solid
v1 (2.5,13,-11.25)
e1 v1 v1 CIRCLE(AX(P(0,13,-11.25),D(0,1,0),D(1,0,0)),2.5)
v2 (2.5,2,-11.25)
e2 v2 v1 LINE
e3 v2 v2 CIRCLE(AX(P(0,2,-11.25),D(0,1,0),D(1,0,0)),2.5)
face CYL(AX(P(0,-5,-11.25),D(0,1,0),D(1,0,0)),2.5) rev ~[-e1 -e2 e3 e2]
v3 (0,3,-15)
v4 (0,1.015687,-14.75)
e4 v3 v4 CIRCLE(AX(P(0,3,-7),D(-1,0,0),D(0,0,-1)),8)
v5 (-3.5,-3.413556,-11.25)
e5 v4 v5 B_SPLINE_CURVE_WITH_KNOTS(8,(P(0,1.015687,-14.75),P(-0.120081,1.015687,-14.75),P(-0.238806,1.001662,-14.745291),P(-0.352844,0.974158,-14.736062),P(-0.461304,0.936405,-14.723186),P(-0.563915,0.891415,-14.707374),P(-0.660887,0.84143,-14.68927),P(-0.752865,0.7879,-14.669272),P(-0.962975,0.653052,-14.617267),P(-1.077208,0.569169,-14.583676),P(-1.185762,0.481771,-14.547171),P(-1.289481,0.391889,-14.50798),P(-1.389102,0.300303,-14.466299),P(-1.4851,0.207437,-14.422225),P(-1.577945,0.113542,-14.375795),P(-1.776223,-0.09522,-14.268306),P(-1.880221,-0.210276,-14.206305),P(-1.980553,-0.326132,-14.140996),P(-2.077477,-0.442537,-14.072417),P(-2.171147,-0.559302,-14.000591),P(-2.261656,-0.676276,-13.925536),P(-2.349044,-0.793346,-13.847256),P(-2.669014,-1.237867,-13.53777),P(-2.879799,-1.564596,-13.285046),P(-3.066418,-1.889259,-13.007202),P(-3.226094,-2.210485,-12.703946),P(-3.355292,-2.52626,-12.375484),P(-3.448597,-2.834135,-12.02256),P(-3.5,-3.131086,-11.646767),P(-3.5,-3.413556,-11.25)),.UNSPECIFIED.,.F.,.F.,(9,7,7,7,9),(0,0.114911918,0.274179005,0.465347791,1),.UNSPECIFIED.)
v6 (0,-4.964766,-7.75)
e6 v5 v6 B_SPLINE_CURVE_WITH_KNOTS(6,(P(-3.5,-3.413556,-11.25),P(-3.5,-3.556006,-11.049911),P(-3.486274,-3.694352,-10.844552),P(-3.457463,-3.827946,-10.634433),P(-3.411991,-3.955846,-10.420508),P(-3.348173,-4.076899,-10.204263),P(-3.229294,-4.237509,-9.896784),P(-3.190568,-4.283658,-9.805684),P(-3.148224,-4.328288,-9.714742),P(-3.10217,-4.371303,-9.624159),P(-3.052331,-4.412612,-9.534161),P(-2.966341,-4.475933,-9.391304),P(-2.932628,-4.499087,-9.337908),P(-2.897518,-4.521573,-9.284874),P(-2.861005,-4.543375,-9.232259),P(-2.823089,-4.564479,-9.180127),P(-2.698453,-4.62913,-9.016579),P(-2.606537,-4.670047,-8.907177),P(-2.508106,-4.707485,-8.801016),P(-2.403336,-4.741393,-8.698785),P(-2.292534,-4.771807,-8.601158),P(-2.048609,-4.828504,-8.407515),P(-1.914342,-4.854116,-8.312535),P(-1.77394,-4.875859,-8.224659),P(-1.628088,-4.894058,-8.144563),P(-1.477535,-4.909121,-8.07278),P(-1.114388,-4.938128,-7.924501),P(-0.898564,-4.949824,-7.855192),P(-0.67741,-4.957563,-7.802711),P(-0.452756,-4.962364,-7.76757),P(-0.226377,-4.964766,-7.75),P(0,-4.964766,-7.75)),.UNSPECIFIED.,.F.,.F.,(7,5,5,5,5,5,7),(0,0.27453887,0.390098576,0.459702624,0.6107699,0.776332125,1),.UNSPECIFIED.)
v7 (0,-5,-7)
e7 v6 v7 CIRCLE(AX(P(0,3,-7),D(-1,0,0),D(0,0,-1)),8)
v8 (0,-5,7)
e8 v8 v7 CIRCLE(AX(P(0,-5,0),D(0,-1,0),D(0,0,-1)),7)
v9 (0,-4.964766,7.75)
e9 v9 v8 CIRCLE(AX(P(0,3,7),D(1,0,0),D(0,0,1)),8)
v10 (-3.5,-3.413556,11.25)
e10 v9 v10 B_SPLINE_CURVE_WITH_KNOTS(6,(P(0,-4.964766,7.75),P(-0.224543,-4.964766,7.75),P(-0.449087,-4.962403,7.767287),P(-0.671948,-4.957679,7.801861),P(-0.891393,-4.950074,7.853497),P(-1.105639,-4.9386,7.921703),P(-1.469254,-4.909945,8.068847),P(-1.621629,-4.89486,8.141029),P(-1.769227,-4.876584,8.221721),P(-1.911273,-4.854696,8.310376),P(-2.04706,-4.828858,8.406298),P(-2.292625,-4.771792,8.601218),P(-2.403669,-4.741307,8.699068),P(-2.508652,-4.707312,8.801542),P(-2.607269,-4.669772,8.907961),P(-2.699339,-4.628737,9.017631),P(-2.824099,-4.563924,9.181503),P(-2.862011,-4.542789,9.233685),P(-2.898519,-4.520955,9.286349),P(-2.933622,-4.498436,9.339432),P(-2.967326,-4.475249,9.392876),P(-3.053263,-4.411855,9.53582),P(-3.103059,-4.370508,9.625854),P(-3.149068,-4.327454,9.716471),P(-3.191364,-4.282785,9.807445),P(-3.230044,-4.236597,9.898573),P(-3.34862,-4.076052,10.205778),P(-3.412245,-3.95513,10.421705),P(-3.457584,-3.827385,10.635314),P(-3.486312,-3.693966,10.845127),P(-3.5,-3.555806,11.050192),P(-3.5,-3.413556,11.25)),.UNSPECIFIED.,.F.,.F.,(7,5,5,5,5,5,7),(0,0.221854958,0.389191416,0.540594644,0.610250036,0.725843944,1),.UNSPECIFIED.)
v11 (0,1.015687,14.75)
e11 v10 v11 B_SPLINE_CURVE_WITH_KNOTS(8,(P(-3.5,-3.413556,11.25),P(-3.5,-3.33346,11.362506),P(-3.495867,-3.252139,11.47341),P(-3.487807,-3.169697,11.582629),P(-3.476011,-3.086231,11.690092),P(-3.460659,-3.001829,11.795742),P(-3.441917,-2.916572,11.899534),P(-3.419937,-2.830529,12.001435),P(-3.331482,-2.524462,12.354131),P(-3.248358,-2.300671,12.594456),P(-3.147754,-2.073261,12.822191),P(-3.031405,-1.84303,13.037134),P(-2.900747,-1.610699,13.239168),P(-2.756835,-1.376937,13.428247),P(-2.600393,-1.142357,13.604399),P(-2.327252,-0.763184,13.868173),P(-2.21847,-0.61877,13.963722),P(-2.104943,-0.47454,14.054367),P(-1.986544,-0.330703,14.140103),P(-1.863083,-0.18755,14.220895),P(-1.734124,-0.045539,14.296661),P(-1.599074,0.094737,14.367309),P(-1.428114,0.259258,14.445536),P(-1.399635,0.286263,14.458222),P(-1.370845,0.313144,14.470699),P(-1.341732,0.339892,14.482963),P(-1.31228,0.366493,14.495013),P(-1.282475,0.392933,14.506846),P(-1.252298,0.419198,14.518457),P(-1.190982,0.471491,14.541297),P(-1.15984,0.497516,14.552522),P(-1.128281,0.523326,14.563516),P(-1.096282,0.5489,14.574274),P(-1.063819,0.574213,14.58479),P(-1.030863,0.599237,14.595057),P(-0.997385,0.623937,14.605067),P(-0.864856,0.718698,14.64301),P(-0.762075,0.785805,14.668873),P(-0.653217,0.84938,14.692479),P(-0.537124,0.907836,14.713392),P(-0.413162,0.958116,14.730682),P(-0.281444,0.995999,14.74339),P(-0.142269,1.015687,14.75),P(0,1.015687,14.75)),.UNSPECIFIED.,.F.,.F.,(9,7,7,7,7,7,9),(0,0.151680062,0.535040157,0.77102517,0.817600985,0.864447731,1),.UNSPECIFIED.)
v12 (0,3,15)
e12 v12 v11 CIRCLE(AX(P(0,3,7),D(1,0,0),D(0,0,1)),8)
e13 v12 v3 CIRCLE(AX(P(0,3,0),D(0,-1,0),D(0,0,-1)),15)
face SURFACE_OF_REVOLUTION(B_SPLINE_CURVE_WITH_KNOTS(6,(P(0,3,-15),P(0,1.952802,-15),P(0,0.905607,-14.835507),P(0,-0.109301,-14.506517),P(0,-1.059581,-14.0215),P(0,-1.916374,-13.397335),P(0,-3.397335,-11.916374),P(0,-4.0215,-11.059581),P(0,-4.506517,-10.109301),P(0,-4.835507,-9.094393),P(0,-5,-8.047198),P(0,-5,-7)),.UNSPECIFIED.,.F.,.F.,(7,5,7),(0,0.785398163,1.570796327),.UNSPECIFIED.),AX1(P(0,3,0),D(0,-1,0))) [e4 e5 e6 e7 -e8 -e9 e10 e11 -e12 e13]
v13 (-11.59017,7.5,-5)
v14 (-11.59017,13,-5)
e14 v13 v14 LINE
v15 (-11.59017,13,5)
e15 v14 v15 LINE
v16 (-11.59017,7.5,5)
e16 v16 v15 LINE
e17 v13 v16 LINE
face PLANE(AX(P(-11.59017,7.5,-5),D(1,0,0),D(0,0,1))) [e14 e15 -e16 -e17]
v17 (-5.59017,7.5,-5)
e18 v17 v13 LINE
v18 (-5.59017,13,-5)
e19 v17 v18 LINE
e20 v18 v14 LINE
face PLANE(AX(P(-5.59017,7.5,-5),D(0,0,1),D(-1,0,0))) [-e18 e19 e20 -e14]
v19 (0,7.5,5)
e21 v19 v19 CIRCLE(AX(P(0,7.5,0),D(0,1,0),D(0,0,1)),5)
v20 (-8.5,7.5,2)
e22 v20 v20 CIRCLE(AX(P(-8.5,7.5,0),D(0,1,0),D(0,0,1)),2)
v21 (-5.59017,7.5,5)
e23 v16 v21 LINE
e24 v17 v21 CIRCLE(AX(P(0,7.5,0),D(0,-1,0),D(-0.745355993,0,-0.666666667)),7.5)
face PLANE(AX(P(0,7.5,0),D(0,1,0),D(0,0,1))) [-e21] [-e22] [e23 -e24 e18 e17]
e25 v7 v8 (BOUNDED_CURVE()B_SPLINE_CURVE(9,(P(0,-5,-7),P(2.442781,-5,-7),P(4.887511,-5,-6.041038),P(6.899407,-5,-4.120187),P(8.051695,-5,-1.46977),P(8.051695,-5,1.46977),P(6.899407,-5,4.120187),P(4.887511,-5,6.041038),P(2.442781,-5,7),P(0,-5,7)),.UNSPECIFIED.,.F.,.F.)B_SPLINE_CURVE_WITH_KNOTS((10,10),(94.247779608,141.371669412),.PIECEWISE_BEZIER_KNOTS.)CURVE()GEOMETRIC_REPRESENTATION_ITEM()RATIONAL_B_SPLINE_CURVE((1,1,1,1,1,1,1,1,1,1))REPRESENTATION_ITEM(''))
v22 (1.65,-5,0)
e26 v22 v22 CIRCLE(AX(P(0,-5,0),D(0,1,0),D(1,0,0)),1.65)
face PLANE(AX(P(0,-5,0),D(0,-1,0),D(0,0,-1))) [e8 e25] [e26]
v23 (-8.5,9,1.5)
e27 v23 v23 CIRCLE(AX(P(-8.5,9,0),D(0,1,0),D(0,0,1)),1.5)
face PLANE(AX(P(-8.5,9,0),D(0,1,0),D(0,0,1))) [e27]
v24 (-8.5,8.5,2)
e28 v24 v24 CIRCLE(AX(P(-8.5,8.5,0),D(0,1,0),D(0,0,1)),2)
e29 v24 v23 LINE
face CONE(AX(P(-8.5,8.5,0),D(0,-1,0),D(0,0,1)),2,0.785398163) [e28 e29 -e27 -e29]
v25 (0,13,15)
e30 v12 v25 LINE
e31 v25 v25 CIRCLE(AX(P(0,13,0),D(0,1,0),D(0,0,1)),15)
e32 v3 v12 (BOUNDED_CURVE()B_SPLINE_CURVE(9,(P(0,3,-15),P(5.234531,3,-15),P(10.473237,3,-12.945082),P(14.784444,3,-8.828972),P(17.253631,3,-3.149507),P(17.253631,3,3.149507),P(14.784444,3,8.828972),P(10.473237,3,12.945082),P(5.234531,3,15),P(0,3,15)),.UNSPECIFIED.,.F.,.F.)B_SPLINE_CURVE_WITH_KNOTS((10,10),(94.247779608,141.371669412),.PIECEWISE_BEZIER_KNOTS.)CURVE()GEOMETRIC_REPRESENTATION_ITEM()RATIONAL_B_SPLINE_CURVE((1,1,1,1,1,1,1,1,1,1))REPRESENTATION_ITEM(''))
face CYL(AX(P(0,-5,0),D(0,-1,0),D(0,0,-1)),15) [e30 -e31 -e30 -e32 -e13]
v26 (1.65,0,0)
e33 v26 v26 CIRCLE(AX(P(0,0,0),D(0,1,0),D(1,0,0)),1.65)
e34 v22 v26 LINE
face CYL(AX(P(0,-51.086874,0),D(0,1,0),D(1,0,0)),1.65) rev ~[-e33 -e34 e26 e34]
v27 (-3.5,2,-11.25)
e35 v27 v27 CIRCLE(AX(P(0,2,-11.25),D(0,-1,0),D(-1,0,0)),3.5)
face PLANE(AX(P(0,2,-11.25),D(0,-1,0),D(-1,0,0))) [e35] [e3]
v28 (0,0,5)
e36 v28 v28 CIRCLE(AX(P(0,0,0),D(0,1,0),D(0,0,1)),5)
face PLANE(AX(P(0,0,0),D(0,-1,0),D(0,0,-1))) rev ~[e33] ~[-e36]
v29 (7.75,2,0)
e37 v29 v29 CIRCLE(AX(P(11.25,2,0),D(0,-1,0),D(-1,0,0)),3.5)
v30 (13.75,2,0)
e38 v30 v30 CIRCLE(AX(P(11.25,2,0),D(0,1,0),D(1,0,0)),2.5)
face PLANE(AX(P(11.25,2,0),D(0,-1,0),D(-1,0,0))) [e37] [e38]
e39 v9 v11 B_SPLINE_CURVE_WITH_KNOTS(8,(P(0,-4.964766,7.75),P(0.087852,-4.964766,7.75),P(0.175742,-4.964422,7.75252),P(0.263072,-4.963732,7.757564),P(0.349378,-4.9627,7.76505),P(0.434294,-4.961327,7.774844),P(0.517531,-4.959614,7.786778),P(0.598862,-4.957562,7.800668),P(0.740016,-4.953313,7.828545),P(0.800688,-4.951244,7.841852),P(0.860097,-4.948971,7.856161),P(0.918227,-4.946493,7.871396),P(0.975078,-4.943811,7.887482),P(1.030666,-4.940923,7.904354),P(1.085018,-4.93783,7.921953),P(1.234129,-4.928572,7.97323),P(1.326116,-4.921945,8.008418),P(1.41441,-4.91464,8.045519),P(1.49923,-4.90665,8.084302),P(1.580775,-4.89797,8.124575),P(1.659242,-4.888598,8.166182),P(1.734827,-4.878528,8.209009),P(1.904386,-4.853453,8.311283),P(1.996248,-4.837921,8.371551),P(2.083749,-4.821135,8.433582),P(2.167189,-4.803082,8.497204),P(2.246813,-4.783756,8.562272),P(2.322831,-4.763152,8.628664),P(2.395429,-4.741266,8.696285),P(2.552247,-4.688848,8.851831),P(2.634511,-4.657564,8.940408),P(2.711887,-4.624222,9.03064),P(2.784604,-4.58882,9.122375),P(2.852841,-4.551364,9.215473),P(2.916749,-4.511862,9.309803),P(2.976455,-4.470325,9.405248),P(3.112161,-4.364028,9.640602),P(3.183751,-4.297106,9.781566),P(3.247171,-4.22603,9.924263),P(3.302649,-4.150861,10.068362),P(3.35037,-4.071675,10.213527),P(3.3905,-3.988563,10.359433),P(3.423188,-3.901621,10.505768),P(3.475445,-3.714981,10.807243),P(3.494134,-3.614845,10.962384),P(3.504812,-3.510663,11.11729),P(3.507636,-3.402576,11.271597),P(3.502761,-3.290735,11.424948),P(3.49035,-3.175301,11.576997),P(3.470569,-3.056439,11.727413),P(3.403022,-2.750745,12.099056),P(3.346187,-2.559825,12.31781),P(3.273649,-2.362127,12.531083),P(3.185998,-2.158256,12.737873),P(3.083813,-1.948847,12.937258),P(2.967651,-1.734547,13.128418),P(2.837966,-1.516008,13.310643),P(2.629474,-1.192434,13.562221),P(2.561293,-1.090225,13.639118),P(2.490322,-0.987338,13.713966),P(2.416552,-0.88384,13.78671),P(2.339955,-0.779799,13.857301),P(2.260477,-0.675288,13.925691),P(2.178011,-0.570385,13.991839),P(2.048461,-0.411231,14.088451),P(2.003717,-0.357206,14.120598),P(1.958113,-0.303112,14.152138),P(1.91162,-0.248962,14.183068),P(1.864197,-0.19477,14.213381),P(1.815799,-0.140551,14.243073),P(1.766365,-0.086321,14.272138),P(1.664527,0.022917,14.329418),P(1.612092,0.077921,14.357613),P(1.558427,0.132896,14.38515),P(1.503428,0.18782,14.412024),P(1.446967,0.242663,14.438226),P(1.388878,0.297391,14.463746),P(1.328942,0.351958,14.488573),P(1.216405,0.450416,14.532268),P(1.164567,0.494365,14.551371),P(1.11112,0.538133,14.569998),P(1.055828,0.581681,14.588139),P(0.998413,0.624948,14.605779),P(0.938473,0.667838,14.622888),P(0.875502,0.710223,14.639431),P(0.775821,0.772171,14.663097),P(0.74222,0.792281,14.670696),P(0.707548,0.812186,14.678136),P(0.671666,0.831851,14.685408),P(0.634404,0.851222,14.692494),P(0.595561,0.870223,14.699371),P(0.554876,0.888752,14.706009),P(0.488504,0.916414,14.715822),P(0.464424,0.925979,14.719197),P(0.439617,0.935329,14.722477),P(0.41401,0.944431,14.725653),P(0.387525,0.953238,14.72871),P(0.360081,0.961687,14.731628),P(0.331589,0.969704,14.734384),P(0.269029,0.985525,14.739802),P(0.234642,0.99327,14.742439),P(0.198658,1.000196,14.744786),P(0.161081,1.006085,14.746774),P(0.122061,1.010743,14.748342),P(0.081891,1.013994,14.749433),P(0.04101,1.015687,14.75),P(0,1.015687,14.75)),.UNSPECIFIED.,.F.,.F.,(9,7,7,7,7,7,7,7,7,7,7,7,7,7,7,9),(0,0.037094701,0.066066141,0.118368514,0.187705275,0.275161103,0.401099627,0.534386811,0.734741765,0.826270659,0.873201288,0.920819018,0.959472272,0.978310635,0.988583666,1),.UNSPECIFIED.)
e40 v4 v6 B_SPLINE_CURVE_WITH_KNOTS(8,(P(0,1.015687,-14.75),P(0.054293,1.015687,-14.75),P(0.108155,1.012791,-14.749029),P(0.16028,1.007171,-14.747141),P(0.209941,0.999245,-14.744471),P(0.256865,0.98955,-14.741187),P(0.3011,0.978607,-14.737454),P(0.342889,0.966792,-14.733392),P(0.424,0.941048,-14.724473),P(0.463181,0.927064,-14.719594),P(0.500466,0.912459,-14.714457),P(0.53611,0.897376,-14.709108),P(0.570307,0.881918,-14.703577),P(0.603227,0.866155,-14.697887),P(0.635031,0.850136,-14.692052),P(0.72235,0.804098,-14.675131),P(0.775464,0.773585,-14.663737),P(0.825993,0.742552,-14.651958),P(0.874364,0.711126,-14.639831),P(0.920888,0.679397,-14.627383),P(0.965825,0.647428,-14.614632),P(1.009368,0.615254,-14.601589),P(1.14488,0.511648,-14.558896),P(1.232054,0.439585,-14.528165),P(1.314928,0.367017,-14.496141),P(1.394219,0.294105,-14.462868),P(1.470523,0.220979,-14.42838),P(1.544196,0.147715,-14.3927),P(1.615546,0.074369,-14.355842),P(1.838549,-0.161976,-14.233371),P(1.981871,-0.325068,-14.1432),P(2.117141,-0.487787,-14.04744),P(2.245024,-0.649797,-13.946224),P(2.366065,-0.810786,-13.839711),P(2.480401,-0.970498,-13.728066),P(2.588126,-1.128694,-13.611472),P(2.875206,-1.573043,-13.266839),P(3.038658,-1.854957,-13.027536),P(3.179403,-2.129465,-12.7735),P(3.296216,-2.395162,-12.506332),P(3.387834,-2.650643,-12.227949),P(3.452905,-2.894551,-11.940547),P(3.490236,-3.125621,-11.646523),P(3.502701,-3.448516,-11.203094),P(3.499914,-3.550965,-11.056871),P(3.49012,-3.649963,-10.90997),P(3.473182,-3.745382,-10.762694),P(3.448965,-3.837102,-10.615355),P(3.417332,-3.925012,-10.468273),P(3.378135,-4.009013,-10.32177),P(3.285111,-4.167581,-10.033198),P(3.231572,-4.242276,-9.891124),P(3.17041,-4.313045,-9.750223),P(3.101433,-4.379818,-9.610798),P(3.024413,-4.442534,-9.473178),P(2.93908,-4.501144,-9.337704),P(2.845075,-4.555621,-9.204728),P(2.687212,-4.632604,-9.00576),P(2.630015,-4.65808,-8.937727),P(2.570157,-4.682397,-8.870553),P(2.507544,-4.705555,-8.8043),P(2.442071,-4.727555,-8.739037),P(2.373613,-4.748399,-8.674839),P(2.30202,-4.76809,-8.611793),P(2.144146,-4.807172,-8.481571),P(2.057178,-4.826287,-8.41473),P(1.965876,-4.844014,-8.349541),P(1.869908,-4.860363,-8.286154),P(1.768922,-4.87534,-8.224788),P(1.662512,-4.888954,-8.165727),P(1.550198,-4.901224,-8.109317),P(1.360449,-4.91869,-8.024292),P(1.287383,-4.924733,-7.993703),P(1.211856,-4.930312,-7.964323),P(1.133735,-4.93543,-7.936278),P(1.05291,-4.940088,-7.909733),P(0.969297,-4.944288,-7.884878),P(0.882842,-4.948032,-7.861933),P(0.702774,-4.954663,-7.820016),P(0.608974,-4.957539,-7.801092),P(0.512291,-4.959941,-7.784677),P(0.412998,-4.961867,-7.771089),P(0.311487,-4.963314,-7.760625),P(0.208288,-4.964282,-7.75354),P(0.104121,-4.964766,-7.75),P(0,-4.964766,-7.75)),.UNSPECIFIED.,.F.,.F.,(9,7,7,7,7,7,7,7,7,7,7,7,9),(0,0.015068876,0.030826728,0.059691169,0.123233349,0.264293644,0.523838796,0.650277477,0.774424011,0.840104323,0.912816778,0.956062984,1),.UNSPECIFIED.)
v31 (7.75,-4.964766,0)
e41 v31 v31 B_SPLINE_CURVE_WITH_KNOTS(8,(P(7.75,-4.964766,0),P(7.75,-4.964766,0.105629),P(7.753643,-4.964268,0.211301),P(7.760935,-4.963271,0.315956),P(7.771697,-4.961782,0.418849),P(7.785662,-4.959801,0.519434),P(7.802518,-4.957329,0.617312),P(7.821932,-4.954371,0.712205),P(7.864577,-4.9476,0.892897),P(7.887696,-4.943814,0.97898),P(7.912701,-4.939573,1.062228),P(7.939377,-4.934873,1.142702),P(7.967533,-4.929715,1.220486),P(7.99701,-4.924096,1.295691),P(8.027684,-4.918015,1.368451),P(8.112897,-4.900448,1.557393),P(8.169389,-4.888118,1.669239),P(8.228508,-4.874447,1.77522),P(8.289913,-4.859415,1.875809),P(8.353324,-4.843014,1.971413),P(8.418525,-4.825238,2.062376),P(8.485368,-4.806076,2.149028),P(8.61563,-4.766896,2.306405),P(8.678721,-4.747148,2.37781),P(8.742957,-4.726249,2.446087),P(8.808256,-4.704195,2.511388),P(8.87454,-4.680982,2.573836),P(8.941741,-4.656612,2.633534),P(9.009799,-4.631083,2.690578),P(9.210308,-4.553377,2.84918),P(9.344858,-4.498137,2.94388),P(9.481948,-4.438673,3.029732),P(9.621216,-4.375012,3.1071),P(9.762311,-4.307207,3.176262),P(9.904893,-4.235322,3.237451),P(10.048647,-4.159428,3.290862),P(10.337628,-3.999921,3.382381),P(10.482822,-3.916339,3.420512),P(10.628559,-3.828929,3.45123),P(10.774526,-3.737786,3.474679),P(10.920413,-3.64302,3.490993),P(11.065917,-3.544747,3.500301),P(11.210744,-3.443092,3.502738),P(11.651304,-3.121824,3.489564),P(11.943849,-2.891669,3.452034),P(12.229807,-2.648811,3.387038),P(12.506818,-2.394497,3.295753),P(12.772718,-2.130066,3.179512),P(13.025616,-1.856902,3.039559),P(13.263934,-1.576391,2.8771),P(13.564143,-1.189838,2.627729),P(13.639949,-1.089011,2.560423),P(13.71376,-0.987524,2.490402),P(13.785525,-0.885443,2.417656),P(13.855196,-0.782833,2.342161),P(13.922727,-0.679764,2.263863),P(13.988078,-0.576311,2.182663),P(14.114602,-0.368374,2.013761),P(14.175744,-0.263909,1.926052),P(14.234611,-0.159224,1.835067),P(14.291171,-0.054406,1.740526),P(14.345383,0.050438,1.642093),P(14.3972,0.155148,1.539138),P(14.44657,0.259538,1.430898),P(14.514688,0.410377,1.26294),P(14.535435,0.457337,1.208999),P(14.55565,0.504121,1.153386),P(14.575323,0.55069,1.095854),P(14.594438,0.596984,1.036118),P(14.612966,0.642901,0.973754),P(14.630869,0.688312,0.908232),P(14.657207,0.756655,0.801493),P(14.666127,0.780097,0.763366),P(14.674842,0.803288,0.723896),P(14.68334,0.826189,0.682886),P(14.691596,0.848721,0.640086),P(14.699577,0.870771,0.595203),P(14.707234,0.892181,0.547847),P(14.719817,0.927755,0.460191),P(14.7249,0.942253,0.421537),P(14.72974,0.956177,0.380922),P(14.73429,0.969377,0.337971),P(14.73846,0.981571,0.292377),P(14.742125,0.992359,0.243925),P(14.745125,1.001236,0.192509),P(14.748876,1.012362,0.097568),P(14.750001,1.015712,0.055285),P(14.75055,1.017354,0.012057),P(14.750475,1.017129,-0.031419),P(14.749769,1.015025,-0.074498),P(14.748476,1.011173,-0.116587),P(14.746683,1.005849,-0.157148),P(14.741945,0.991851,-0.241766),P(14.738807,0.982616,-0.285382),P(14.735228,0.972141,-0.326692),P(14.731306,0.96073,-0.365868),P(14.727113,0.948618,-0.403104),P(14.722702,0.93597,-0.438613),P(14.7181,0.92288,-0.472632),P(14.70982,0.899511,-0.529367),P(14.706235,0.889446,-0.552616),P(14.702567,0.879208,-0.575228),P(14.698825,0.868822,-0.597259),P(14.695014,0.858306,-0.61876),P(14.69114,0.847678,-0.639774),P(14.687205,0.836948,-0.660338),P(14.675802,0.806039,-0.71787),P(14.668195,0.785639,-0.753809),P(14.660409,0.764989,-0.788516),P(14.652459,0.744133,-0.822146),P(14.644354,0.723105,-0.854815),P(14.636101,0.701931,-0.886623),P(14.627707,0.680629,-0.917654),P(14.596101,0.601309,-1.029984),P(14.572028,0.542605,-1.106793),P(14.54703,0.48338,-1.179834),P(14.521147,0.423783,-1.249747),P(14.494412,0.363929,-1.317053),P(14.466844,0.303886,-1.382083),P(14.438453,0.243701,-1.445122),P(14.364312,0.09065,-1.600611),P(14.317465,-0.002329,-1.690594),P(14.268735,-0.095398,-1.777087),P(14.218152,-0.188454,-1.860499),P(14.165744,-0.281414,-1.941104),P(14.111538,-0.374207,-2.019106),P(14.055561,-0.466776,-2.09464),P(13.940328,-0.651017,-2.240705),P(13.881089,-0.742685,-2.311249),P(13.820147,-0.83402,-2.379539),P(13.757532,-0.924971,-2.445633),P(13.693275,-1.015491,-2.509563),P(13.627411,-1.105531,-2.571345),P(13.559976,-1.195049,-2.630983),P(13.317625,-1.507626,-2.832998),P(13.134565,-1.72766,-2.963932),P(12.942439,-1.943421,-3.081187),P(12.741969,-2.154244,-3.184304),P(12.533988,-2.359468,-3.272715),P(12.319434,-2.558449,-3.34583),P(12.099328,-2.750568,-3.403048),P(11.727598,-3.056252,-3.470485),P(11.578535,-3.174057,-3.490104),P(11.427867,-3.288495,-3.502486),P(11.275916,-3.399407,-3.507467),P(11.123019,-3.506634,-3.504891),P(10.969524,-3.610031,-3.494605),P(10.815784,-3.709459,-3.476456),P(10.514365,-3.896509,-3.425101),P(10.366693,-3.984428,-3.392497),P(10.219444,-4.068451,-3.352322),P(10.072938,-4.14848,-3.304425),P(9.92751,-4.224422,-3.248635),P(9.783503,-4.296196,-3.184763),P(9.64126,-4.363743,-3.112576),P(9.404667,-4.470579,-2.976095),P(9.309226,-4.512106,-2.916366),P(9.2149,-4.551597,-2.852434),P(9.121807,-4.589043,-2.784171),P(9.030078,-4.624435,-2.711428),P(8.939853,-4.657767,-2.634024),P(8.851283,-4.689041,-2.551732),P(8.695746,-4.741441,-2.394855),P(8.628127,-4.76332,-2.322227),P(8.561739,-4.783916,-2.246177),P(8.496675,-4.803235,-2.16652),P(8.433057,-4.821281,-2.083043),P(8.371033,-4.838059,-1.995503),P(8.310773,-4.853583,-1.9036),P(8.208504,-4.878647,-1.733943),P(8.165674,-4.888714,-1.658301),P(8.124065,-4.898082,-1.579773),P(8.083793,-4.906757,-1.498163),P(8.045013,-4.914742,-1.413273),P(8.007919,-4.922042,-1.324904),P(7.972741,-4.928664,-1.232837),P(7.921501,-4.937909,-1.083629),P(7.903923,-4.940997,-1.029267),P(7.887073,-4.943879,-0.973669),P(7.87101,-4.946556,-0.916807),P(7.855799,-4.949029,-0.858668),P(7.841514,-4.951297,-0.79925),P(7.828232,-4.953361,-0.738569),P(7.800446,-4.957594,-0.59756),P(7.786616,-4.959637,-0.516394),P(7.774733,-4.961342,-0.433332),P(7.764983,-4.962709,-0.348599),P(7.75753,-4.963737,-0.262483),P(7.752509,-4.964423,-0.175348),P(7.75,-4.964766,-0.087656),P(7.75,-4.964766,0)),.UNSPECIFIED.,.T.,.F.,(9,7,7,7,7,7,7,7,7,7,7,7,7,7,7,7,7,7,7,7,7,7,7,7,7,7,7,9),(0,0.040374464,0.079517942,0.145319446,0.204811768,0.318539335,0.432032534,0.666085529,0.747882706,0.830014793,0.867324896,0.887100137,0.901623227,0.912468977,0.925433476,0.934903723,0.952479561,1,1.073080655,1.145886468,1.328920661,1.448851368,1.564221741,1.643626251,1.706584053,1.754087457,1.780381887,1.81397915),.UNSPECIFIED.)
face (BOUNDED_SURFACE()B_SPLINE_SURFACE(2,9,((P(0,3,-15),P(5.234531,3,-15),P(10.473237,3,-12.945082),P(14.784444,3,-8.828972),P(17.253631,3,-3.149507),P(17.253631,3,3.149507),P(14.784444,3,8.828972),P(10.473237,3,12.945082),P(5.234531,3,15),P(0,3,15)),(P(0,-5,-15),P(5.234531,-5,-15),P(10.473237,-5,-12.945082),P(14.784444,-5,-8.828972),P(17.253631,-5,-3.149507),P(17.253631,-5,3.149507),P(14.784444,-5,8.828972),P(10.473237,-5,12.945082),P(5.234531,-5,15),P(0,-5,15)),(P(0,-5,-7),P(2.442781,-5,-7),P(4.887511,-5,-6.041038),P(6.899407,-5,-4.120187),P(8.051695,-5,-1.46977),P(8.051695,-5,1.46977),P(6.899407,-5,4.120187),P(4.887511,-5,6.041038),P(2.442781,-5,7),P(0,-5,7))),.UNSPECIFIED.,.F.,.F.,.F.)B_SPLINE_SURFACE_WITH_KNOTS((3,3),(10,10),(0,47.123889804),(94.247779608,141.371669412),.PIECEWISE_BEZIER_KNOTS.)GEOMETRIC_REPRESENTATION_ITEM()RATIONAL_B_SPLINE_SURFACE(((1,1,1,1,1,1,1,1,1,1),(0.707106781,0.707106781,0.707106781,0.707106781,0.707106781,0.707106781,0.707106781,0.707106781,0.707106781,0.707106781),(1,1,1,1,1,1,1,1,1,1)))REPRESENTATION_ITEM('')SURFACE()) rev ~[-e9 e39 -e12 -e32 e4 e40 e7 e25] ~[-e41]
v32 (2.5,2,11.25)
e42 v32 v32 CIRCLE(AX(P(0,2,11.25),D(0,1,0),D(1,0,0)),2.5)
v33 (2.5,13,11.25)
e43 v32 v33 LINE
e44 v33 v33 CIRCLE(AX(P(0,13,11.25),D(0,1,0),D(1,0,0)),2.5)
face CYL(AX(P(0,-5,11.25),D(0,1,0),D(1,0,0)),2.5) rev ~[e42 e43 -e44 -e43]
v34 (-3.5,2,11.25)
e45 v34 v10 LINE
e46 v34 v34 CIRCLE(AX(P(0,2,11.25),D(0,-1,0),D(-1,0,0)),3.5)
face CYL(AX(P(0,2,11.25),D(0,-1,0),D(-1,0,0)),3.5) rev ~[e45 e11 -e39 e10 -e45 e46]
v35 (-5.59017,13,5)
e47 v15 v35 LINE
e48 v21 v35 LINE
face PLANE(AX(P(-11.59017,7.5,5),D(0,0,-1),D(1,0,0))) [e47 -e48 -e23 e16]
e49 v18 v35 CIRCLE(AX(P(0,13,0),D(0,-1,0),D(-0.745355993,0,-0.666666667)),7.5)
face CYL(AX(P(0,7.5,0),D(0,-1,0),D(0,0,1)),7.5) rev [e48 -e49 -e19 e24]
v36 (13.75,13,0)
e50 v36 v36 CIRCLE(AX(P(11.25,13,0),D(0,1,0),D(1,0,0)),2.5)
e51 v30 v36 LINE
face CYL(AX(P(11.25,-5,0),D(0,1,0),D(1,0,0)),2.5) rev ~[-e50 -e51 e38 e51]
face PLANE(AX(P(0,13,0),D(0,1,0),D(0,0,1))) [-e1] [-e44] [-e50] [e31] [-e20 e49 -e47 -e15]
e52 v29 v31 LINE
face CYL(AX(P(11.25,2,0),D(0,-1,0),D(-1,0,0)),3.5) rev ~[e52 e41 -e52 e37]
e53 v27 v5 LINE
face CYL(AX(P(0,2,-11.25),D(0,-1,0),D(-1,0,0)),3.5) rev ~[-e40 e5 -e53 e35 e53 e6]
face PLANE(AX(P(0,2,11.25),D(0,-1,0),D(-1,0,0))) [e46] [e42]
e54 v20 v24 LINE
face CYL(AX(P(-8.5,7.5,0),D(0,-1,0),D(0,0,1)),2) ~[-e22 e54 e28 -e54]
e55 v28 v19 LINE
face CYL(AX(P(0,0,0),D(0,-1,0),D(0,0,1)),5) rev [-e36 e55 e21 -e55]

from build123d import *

# Parameters (mm, degrees)
SKETCH1_R             = 15
SKETCH1_R_2           = 5
BOSS_EXTRUDE1_DEPTH   = 7.5
SKETCH2_R             = 15
SKETCH2_R_2           = 7.5
BOSS_EXTRUDE2_DEPTH   = 5.5
BOSS_EXTRUDE3_START   = 5
SKETCH3_R             = 15
BOSS_EXTRUDE3_DEPTH   = 5
M4X0_7_TAPPED_HOLE1_D = 3.3
FILLET1_R             = 8
HOLE1_D               = 5
HOLE1_DEPTH           = 18
HOLE1_CBORE_D         = 7
HOLE1_CBORE_DEPTH     = 7
HOLE1_TIP             = 1.502151548
CUT_EXTRUDE1_START    = -5.5
CUT_EXTRUDE1_DEPTH    = 5.5
SKETCH10_R            = 2
BOSS_EXTRUDE4_DEPTH   = 1.5
CHAMFER1_SIZE         = 0.5


with BuildPart() as part:
    # Sketch1 → Boss-Extrude1 (new body)
    with BuildSketch(Plane(origin=(0, 0, 0), x_dir=(1, 0, 0), z_dir=(0, 1, 0))):
        with Locations(Location((0, 0, 0), (0, 0, 270))):
            Circle(SKETCH1_R)
        with Locations(Location((0, 0, 0), (0, 0, 270))):
            Circle(SKETCH1_R_2, mode=Mode.SUBTRACT)
    extrude(amount=BOSS_EXTRUDE1_DEPTH)

    # Sketch2 → Boss-Extrude2 (add)
    with BuildSketch(Plane(origin=(0, 7.5, 0), x_dir=(1, 0, 0), z_dir=(0, 1, 0))):
        with Locations(Location((0, 0, 0), (0, 0, 270))):
            Circle(SKETCH2_R)
        with Locations(Location((0, 0, 0), (0, 0, 270))):
            Circle(SKETCH2_R_2, mode=Mode.SUBTRACT)
    extrude(amount=BOSS_EXTRUDE2_DEPTH)

    # Sketch3 → Boss-Extrude3 (add)
    with BuildSketch(Plane.XZ.offset(BOSS_EXTRUDE3_START)):
        with Locations(Location((0, 0, 0), (0, 0, 270))):
            Circle(SKETCH3_R)
    extrude(amount=-BOSS_EXTRUDE3_DEPTH)

    # M4x0.7 Tapped Hole1 (through all)
    with Locations(Plane(origin=(0, -5, 0), x_dir=(-1, 0, 0), z_dir=(0, -1, 0))):
        with Locations((0, 0)):
            Hole(M4X0_7_TAPPED_HOLE1_D / 2)

    # Fillet1
    fillet1_edges = [part.edges().sort_by_distance(p)[0] for p in [
        (0, -5, 15),
    ]]
    fillet(fillet1_edges, radius=FILLET1_R)

    # Hole1
    with Locations(Plane(origin=(0, -5, 0), x_dir=(-1, 0, 0), z_dir=(0, -1, 0))):
        with Locations((0, 11.25), (-11.25, 0), (0, -11.25)):
            CounterBoreHole(HOLE1_D / 2, HOLE1_CBORE_D / 2, HOLE1_CBORE_DEPTH, depth=HOLE1_DEPTH)
            with Locations((0, 0, -(HOLE1_DEPTH + HOLE1_TIP / 2))):  # 118° drill point
                Cone(0, HOLE1_D / 2, HOLE1_TIP, mode=Mode.SUBTRACT)

    # Sketch9 → Cut-Extrude1 (cut)
    with BuildSketch(Plane(origin=(0, 13, 0), x_dir=(1, 0, 0), z_dir=(0, 1, 0)).offset(CUT_EXTRUDE1_START)):
        with BuildLine():
            Line((-5.590169944, 5), (-11.590169944, 5))
            Line((-11.590169944, 5), (-11.590169944, -5))
            Line((-11.590169944, -5), (-5.590169944, -5))
            ThreePointArc((-5.590169944, -5), (-7.5, 0), (-5.590169944, 5))
        make_face()
    extrude(amount=CUT_EXTRUDE1_DEPTH, mode=Mode.SUBTRACT)

    # Sketch10 → Boss-Extrude4 (add)
    with BuildSketch(Plane(origin=(0, 7.5, 0), x_dir=(1, 0, 0), z_dir=(0, 1, 0))):
        with Locations(Location((-8.5, 0, 0), (0, 0, 270))):
            Circle(SKETCH10_R)
    extrude(amount=BOSS_EXTRUDE4_DEPTH)

    # Chamfer1
    chamfer1_edges = [part.edges().sort_by_distance(p)[0] for p in [
        (-8.5, 9, -2),
    ]]
    chamfer(chamfer1_edges, length=CHAMFER1_SIZE)


solid = part.part
